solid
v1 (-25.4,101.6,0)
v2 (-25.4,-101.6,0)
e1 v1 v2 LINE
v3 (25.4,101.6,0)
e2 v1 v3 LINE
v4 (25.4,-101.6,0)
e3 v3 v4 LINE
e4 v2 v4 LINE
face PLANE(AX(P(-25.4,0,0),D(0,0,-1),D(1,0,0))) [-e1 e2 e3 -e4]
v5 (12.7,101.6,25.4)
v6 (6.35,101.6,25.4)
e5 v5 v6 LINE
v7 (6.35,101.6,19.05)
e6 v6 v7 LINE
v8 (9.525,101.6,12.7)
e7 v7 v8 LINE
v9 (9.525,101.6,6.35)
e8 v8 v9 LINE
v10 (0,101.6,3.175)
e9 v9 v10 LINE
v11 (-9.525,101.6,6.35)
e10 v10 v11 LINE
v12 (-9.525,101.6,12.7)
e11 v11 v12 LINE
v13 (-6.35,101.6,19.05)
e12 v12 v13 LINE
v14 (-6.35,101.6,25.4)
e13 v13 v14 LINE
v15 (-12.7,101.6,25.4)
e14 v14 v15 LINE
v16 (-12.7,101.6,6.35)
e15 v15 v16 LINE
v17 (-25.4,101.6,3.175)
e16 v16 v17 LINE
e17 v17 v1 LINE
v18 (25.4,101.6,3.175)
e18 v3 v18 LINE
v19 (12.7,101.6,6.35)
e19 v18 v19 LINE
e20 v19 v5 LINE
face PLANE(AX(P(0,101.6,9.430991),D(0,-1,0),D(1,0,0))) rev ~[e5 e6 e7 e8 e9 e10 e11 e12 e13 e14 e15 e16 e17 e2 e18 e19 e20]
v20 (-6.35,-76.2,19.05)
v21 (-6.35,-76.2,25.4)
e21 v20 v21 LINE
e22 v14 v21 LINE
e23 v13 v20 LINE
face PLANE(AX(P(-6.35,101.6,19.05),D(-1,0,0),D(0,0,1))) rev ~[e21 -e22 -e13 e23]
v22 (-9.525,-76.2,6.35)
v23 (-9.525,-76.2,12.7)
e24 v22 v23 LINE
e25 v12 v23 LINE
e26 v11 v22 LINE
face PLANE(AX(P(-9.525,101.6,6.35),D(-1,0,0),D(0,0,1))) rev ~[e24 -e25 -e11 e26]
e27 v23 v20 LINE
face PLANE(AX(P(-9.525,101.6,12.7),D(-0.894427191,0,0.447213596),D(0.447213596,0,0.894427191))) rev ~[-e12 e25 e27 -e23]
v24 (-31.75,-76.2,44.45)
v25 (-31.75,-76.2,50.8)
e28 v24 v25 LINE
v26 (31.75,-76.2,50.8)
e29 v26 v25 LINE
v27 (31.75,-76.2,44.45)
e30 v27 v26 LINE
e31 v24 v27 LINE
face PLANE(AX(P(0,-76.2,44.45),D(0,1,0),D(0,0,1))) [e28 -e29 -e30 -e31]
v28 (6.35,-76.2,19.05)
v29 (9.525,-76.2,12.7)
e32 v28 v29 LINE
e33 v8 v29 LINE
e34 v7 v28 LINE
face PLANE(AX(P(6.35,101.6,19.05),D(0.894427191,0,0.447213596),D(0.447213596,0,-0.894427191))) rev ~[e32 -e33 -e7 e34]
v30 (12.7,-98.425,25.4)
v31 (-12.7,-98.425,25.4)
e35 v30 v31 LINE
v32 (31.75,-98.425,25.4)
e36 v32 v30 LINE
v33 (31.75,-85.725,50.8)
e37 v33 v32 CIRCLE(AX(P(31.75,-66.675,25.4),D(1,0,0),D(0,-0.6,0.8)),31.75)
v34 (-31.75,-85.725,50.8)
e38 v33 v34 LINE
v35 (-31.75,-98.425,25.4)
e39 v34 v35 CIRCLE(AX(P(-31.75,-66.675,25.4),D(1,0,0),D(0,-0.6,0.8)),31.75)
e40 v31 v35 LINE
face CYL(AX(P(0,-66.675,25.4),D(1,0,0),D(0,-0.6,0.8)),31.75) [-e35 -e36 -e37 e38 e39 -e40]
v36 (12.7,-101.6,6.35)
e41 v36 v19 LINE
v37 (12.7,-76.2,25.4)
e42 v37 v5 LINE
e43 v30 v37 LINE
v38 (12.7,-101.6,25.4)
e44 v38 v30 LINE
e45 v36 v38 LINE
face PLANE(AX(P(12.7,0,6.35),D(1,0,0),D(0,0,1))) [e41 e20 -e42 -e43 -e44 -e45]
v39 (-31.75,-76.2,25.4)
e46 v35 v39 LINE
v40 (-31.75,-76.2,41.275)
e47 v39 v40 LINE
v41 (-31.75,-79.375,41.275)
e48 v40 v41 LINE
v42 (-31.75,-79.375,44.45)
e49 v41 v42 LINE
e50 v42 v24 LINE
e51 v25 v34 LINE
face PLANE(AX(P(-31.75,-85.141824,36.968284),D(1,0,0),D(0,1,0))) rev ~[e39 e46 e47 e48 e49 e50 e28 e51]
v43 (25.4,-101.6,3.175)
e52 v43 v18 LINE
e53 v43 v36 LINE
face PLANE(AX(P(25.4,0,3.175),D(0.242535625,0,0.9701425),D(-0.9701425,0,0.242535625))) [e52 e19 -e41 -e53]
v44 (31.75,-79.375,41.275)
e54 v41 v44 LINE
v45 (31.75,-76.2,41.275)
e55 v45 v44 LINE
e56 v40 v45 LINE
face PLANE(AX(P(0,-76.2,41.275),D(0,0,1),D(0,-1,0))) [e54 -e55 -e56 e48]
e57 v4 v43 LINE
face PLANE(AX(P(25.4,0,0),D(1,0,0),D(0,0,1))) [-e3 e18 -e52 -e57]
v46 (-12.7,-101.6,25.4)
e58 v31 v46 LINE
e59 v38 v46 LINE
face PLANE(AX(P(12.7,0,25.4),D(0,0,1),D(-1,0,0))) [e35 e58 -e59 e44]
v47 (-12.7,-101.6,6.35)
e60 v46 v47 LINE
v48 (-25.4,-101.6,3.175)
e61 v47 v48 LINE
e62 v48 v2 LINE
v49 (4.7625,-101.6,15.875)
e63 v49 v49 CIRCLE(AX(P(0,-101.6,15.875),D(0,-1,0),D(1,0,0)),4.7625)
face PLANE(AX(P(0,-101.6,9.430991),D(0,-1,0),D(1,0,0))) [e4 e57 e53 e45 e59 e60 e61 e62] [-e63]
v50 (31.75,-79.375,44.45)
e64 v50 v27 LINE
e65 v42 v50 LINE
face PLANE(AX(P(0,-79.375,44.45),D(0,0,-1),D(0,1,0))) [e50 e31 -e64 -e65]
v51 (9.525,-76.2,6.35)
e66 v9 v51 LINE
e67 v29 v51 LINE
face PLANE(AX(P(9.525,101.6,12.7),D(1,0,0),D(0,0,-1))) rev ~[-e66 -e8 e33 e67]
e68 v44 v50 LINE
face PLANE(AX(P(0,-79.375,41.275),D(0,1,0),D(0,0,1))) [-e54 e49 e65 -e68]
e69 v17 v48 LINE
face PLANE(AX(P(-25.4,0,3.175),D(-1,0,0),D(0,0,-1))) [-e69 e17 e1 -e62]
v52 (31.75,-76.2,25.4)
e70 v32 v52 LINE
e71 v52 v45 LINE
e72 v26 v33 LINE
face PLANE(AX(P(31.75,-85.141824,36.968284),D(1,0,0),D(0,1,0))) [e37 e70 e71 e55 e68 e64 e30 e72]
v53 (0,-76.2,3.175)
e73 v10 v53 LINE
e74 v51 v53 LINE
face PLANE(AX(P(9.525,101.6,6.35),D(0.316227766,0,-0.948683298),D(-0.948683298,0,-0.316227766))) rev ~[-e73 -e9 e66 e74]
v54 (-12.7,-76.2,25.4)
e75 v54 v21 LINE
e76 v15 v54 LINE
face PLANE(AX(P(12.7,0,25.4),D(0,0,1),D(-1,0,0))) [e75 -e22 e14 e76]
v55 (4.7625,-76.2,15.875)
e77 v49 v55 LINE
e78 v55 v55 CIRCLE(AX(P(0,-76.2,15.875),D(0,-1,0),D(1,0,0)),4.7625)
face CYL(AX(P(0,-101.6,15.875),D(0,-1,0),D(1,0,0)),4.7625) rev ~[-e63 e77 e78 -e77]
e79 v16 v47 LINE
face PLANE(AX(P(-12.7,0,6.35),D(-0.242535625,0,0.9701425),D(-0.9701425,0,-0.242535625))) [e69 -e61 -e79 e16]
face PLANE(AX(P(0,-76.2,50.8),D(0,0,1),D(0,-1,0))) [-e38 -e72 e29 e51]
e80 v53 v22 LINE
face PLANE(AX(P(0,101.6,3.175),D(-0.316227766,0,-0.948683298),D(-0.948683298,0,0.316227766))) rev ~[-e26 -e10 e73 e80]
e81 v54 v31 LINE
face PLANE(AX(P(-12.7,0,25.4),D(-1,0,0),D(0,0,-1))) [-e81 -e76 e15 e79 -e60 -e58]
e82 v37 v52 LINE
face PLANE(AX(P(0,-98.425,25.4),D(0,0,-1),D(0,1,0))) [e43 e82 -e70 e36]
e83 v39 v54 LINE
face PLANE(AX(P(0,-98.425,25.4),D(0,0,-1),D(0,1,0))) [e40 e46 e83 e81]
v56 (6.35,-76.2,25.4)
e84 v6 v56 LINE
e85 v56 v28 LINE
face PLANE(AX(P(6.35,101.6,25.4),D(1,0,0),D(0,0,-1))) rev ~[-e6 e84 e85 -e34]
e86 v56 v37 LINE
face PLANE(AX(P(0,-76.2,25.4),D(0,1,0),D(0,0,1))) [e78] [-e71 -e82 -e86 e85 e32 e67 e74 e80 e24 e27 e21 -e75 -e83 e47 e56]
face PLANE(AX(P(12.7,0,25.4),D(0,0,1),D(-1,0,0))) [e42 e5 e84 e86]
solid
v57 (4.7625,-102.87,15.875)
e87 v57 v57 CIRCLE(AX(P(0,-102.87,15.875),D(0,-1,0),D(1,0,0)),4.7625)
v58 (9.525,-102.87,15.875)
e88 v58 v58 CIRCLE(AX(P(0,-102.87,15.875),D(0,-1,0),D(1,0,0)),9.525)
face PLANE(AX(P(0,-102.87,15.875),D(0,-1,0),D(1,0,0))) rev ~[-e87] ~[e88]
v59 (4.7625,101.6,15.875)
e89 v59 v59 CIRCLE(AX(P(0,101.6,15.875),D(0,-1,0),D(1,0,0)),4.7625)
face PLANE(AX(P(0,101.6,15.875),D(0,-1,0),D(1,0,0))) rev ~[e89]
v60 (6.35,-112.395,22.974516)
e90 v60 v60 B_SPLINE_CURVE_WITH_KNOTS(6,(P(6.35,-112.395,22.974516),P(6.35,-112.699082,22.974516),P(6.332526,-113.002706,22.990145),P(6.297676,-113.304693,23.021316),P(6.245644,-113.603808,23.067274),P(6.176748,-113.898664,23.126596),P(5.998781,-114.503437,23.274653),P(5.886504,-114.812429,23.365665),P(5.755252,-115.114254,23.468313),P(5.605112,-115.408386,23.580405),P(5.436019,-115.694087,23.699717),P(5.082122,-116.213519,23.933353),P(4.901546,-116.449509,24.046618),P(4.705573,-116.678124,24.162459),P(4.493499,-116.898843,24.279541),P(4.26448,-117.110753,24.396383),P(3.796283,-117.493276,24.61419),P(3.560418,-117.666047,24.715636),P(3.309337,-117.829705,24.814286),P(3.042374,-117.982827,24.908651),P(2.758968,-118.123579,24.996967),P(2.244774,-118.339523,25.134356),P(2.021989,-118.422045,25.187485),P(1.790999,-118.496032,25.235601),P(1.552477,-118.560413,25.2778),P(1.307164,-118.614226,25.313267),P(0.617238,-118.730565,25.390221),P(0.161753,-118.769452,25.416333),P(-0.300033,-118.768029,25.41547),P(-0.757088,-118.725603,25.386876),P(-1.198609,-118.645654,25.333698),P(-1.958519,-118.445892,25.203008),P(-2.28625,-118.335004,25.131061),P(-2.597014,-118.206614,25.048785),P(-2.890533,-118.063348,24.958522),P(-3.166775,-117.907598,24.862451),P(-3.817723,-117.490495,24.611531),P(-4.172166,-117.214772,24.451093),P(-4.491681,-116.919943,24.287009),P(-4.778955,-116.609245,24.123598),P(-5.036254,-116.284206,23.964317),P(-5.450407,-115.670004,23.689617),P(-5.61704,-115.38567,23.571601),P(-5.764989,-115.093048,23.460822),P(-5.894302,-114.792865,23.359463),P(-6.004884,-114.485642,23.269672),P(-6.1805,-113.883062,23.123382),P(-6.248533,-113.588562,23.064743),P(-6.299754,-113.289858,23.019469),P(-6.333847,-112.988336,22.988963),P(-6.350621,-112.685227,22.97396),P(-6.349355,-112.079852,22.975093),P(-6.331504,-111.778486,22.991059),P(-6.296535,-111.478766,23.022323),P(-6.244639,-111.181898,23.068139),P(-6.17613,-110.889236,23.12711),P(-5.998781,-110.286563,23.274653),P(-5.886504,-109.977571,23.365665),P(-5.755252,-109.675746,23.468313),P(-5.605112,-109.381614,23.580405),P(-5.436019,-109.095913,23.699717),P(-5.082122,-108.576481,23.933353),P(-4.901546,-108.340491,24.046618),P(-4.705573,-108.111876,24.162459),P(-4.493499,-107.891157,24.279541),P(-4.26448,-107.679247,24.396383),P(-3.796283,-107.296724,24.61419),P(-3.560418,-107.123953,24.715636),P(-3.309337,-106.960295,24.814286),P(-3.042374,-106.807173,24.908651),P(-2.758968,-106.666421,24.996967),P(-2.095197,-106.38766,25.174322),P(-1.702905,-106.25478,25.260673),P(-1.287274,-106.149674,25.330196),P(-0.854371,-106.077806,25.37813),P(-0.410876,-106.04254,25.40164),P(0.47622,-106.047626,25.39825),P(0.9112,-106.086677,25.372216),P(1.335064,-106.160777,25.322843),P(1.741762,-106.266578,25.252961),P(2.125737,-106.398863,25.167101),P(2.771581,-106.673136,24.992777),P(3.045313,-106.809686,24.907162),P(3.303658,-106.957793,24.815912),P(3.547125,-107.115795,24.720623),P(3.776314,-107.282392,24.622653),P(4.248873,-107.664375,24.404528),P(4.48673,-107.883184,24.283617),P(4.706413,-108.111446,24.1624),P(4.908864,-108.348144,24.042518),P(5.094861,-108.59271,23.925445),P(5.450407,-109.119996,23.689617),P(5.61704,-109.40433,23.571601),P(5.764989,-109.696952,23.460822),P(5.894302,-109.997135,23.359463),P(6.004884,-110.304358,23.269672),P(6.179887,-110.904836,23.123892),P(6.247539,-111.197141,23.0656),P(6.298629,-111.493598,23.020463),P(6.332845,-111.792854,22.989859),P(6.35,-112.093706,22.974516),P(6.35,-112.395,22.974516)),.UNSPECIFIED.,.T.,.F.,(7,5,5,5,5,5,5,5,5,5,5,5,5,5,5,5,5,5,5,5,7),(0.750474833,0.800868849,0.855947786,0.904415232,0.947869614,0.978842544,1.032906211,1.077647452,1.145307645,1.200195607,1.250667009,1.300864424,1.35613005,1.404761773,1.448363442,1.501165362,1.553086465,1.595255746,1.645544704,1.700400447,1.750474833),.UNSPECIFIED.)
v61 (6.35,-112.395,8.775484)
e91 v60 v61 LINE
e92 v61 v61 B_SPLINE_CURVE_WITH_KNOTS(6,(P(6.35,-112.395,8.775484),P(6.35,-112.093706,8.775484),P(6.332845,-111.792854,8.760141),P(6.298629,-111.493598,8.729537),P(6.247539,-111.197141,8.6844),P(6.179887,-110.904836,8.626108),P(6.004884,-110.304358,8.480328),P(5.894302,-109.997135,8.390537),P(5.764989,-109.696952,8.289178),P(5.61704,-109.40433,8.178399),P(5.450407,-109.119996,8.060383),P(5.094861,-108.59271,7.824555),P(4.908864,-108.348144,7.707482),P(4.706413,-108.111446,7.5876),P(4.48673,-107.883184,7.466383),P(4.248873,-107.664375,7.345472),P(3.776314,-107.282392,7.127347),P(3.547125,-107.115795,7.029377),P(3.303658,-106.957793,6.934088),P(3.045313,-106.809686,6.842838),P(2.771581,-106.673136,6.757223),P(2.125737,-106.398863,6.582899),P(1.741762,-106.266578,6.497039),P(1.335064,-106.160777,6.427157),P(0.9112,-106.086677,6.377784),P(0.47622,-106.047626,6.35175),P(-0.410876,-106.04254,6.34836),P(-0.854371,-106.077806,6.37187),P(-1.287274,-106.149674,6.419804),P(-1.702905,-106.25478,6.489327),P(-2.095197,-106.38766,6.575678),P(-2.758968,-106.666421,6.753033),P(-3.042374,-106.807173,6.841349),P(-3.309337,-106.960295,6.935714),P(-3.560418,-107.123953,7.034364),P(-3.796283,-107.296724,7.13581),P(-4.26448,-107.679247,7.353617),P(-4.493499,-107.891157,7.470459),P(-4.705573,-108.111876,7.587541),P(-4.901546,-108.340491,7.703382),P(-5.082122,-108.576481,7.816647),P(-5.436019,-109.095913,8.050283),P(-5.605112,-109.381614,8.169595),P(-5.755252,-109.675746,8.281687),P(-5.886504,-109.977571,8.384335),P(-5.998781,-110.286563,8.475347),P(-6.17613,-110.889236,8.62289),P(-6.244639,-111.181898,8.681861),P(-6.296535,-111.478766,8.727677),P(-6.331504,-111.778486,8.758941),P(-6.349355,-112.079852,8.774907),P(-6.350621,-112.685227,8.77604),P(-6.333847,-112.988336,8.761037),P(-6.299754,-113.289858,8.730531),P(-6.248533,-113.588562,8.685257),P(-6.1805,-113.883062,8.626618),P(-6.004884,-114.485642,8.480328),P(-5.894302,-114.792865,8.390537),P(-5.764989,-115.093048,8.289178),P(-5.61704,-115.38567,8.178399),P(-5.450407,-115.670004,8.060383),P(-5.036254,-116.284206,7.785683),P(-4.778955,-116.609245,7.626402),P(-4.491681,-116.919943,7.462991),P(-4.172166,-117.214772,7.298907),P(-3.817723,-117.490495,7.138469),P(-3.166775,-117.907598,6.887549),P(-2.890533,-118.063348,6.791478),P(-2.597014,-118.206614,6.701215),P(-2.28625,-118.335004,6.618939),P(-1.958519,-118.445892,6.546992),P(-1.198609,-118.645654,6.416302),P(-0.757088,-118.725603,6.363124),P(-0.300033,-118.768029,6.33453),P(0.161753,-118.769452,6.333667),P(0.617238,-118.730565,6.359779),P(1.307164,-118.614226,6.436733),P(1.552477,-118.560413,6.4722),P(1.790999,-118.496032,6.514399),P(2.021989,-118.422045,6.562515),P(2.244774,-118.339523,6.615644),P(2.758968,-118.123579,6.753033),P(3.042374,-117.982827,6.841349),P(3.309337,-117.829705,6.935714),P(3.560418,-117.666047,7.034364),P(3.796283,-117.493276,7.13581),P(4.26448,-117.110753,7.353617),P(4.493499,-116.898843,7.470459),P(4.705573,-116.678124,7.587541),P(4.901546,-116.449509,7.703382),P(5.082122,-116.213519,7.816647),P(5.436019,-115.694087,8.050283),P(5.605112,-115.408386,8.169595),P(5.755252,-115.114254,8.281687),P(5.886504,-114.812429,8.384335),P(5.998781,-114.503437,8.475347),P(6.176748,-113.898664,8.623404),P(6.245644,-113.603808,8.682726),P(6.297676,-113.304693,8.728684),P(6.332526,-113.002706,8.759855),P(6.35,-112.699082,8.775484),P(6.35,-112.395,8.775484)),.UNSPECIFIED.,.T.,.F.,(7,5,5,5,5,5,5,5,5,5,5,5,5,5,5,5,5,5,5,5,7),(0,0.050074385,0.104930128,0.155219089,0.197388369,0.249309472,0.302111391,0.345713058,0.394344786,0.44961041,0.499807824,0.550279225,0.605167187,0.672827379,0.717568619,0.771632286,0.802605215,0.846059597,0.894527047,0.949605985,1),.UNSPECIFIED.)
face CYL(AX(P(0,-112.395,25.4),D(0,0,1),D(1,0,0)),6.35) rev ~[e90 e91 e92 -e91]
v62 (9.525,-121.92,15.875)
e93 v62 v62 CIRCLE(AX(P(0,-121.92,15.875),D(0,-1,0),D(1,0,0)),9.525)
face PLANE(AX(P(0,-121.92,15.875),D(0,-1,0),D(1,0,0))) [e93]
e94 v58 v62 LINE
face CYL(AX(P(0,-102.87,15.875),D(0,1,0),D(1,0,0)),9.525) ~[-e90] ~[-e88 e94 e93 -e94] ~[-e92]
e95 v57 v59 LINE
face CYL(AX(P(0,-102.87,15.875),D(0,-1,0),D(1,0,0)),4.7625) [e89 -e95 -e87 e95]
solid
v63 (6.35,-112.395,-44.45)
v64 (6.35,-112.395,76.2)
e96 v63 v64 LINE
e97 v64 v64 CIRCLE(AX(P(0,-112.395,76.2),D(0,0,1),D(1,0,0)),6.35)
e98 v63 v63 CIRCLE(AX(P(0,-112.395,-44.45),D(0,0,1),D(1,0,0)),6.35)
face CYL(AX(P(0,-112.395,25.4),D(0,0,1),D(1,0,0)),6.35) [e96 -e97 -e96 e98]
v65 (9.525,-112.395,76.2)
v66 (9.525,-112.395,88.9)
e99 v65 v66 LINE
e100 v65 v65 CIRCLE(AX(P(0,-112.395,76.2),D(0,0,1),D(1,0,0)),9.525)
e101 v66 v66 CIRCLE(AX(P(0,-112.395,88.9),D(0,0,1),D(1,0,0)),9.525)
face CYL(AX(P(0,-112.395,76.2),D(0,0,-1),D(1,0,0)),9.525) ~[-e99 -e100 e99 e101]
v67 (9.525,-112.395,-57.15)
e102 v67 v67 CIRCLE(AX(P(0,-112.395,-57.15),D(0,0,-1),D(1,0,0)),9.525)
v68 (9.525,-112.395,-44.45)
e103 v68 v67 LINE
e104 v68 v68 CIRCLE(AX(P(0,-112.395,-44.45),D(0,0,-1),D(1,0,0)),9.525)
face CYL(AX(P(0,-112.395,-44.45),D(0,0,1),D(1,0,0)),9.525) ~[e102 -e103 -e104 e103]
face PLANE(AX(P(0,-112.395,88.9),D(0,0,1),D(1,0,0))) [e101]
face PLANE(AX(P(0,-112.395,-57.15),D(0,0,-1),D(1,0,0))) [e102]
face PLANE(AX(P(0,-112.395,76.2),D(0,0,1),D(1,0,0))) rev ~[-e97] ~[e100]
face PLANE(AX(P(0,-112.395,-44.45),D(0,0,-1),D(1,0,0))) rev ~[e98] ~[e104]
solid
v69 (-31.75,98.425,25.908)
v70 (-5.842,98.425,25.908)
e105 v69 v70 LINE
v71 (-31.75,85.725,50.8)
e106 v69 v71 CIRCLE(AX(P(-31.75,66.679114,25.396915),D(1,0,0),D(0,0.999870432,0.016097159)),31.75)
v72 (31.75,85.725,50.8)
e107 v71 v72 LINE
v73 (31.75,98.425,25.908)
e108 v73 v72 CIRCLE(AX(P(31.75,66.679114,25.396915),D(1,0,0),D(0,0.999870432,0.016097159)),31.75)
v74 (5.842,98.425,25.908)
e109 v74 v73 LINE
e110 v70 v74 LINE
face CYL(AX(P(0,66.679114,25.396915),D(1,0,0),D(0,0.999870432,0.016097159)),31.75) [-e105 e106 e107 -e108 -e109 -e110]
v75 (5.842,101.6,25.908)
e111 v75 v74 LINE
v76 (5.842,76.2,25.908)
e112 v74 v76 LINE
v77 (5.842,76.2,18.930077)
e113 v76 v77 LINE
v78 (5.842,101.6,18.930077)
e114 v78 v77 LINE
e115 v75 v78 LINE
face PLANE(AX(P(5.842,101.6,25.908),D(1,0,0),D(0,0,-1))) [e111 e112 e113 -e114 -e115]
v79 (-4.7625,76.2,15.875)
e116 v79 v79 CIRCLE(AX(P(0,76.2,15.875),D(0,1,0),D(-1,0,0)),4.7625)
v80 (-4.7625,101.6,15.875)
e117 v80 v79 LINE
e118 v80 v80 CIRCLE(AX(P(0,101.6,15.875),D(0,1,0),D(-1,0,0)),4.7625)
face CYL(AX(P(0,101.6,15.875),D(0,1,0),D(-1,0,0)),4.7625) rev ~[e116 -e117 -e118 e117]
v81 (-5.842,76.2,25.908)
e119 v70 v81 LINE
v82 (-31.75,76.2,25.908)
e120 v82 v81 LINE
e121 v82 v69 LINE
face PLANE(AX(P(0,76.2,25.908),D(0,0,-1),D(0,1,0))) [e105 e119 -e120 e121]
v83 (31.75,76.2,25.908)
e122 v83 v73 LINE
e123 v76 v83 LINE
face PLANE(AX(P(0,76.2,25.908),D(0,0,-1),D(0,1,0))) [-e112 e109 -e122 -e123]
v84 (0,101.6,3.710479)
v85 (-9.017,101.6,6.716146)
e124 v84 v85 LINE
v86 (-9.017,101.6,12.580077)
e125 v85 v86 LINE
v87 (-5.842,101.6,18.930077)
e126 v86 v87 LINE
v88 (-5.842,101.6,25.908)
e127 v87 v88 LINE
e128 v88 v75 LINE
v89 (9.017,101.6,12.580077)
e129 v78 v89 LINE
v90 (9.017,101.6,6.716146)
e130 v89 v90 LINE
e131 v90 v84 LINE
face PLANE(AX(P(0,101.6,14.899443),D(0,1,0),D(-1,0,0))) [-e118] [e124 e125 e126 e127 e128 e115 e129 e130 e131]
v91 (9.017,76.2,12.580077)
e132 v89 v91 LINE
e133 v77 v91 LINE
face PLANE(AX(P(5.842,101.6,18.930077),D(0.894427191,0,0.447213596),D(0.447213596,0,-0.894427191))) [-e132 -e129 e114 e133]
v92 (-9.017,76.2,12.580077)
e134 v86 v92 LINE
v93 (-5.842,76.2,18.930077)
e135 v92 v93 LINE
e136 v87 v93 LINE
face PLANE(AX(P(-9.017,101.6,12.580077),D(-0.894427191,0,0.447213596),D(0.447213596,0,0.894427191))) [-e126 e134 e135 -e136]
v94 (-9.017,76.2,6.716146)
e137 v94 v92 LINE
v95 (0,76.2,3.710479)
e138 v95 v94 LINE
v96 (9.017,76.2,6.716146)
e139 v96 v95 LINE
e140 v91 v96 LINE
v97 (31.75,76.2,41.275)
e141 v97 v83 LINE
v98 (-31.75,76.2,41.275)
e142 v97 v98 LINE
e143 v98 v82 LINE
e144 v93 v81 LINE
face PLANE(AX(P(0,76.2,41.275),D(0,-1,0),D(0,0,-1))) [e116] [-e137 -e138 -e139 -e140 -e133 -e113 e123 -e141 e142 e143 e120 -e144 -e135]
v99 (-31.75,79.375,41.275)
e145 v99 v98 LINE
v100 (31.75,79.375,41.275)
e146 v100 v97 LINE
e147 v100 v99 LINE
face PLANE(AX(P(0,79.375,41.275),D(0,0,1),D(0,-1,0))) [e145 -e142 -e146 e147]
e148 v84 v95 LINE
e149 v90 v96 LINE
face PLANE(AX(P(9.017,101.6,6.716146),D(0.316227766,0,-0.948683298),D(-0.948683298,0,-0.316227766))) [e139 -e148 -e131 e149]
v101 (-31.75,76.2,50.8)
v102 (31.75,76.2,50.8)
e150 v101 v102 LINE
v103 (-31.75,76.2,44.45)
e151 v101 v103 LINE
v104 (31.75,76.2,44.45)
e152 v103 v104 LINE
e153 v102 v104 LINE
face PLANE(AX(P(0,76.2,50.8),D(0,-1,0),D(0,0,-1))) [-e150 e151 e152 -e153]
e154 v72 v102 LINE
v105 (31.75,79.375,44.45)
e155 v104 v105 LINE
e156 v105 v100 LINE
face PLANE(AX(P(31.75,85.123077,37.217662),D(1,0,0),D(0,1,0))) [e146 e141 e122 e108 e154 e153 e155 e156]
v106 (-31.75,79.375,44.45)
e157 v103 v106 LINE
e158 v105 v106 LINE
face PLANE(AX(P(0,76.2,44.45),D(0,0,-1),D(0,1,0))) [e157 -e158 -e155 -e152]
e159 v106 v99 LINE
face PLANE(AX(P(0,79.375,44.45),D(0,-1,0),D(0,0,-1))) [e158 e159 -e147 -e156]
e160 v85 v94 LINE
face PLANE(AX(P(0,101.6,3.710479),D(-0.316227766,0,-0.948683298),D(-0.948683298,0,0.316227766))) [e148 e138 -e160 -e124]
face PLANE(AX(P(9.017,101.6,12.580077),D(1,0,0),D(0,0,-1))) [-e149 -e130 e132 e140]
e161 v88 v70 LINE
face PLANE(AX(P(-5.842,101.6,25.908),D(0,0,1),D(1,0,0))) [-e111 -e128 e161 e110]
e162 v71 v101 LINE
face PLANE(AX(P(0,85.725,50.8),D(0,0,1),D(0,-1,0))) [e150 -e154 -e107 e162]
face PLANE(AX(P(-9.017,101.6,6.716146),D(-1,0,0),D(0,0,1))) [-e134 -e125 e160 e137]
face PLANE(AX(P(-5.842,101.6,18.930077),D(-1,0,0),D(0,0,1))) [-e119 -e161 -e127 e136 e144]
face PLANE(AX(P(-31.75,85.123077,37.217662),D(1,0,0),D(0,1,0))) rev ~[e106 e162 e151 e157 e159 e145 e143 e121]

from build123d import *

# Parameters (mm, degrees)
F1_DEPTH       = 101.6
F2_R           = 4.7625
F3_DEPTH       = 203.2
F4_R           = 4.7625
F5_DEPTH       = 177.8
F7_DEPTH       = 31.75
F9_DEPTH       = 25.4
F11_DEPTH      = 31.75
F12_R          = 4.7625
F13_DEPTH      = 203.201
F15_R          = 4.7625
F16_DEPTH      = 204.47
F17_R          = 9.525
F18_DEPTH      = 19.05
F19_R          = 6.35
F20_DEPTH      = 25.4
F21_DEPTH      = 50.8
F21_DEPTH_BACK = 69.85
F22_R          = 9.525
F22_R_2        = 6.35
F23_DEPTH      = 12.7
F24_R          = 9.525
F24_R_2        = 6.35
F25_DEPTH      = 12.7


with BuildPart() as f1:
    # F0 (on Front) → F1 (new body, symmetric)
    with BuildSketch(Plane.XZ):
        Polygon((12.7, 25.4), (-12.7, 25.4), (-12.7, 6.35), (-25.4, 3.175), (-25.4, 0), (-12.7, 0), (12.7, 0), (25.4, 0), (25.4, 3.175), (12.7, 6.35), align=None)
    extrude(amount=F1_DEPTH, both=True)

    # F2 (on face) → F3 (cut, through all)
    with BuildSketch(Plane.XZ.offset(101.6)):
        with Locations((0, 15.875)):
            Circle(F2_R)
    extrude(amount=-F3_DEPTH, mode=Mode.SUBTRACT)

    # F4 (on face) → F5 (cut)
    with BuildSketch(Plane(origin=(0, 101.6, 0), x_dir=(-1, 0, 0), z_dir=(0, 1, 0))):
        Polygon((6.35, 19.05), (6.35, 25.4), (-6.35, 25.4), (-6.35, 19.05), (-9.525, 12.7), (-9.525, 6.35), (0, 3.175), (9.525, 6.35), (9.525, 12.7), align=None)
        with Locations((0, 15.875)):
            Circle(F4_R, mode=Mode.SUBTRACT)
    extrude(amount=-F5_DEPTH, mode=Mode.SUBTRACT)

    # F6 (on Right) → F7 (join, symmetric)
    with BuildSketch(Plane.YZ):
        with BuildLine():
            Line((-98.425, 25.4), (-76.2, 25.4))
            Line((-76.2, 25.4), (-76.2, 41.275))
            Line((-76.2, 41.275), (-79.375, 41.275))
            Line((-79.375, 41.275), (-79.375, 44.45))
            Line((-79.375, 44.45), (-76.2, 44.45))
            Line((-76.2, 44.45), (-76.2, 50.8))
            Line((-76.2, 50.8), (-85.725, 50.8))
            ThreePointArc((-85.725, 50.8), (-95.0730633142, 39.5990316571), (-98.425, 25.4))
        make_face()
    extrude(amount=F7_DEPTH, both=True)


with BuildPart() as f9:
    # F8 (on face) → F9 (new body)
    with BuildSketch(Plane(origin=(0, 101.6, 0), x_dir=(-1, 0, 0), z_dir=(0, 1, 0))):
        Polygon((-5.8419998417, 25.908), (-5.8419998417, 18.9300774301), (-9.0169998417, 12.5800774301), (-9.0169998417, 6.7161457978), (0, 3.7104791839), (9.0169998417, 6.7161457978), (9.0169998417, 12.5800774301), (5.8419998417, 18.9300774301), (5.8419998417, 25.908), align=None)
    extrude(amount=-F9_DEPTH)

    # F10 (on Right) → F11 (join, symmetric)
    with BuildSketch(Plane.YZ):
        with BuildLine():
            Line((76.2, 41.275), (76.2, 25.908))
            Line((76.2, 25.908), (98.425, 25.908))
            ThreePointArc((98.425, 25.908), (94.9608031366, 39.8263485391), (85.725, 50.8))
            Line((85.725, 50.8), (76.2, 50.8))
            Line((76.2, 50.8), (76.2, 44.45))
            Line((76.2, 44.45), (79.375, 44.45))
            Line((79.375, 44.45), (79.375, 41.275))
            Line((79.375, 41.275), (76.2, 41.275))
        make_face()
    extrude(amount=F11_DEPTH, both=True)

    # F12 (on face) → F13 (cut, through all)
    with BuildSketch(Plane(origin=(0, 101.6, 0), x_dir=(-1, 0, 0), z_dir=(0, 1, 0))):
        with Locations((0, 15.875)):
            Circle(F12_R)
    extrude(amount=-F13_DEPTH, mode=Mode.SUBTRACT)


with BuildPart() as f16:
    # F15 (on offset) → F16 (new body, through all)
    with BuildSketch(Plane.XZ.offset(102.87)):
        with Locations((0, 15.875)):
            Circle(F15_R)
    extrude(amount=-F16_DEPTH)

    # F17 (on offset) → F18 (join)
    with BuildSketch(Plane.XZ.offset(102.87)):
        with Locations((0, 15.875)):
            Circle(F17_R)
    extrude(amount=F18_DEPTH)

    # F19 (on face) → F20 (cut)
    with BuildSketch(Plane.XY.offset(25.4)):
        with Locations((0, -112.395)):
            Circle(F19_R)
    extrude(amount=-F20_DEPTH, mode=Mode.SUBTRACT)


with BuildPart() as f21:
    # F19 (on face) → F21 (new body, two sides)
    with BuildSketch(Plane.XY.offset(25.4)) as f21_sk:
        with Locations((0, -112.395)):
            Circle(F19_R)
    extrude(amount=F21_DEPTH)
    extrude(f21_sk.sketch, amount=-F21_DEPTH_BACK)

    # F22 (on face) → F23 (join)
    with BuildSketch(Plane.XY.offset(76.2)):
        with Locations((0, -112.395)):
            Circle(F22_R)
        with Locations((0, -112.395)):
            Circle(F22_R_2, mode=Mode.SUBTRACT)
        with Locations((0, -112.395)):
            Circle(F22_R_2)
    extrude(amount=F23_DEPTH)

    # F24 (on face) → F25 (join)
    with BuildSketch(Plane(origin=(0, 0, -44.45), x_dir=(1, 0, 0), z_dir=(0, 0, -1))):
        with Locations((0, 112.395)):
            Circle(F24_R)
        with Locations((0, 112.395)):
            Circle(F24_R_2, mode=Mode.SUBTRACT)
        with Locations((0, 112.395)):
            Circle(F24_R_2)
    extrude(amount=F25_DEPTH)


solid = Compound([f1.part, f9.part, f16.part, f21.part])
